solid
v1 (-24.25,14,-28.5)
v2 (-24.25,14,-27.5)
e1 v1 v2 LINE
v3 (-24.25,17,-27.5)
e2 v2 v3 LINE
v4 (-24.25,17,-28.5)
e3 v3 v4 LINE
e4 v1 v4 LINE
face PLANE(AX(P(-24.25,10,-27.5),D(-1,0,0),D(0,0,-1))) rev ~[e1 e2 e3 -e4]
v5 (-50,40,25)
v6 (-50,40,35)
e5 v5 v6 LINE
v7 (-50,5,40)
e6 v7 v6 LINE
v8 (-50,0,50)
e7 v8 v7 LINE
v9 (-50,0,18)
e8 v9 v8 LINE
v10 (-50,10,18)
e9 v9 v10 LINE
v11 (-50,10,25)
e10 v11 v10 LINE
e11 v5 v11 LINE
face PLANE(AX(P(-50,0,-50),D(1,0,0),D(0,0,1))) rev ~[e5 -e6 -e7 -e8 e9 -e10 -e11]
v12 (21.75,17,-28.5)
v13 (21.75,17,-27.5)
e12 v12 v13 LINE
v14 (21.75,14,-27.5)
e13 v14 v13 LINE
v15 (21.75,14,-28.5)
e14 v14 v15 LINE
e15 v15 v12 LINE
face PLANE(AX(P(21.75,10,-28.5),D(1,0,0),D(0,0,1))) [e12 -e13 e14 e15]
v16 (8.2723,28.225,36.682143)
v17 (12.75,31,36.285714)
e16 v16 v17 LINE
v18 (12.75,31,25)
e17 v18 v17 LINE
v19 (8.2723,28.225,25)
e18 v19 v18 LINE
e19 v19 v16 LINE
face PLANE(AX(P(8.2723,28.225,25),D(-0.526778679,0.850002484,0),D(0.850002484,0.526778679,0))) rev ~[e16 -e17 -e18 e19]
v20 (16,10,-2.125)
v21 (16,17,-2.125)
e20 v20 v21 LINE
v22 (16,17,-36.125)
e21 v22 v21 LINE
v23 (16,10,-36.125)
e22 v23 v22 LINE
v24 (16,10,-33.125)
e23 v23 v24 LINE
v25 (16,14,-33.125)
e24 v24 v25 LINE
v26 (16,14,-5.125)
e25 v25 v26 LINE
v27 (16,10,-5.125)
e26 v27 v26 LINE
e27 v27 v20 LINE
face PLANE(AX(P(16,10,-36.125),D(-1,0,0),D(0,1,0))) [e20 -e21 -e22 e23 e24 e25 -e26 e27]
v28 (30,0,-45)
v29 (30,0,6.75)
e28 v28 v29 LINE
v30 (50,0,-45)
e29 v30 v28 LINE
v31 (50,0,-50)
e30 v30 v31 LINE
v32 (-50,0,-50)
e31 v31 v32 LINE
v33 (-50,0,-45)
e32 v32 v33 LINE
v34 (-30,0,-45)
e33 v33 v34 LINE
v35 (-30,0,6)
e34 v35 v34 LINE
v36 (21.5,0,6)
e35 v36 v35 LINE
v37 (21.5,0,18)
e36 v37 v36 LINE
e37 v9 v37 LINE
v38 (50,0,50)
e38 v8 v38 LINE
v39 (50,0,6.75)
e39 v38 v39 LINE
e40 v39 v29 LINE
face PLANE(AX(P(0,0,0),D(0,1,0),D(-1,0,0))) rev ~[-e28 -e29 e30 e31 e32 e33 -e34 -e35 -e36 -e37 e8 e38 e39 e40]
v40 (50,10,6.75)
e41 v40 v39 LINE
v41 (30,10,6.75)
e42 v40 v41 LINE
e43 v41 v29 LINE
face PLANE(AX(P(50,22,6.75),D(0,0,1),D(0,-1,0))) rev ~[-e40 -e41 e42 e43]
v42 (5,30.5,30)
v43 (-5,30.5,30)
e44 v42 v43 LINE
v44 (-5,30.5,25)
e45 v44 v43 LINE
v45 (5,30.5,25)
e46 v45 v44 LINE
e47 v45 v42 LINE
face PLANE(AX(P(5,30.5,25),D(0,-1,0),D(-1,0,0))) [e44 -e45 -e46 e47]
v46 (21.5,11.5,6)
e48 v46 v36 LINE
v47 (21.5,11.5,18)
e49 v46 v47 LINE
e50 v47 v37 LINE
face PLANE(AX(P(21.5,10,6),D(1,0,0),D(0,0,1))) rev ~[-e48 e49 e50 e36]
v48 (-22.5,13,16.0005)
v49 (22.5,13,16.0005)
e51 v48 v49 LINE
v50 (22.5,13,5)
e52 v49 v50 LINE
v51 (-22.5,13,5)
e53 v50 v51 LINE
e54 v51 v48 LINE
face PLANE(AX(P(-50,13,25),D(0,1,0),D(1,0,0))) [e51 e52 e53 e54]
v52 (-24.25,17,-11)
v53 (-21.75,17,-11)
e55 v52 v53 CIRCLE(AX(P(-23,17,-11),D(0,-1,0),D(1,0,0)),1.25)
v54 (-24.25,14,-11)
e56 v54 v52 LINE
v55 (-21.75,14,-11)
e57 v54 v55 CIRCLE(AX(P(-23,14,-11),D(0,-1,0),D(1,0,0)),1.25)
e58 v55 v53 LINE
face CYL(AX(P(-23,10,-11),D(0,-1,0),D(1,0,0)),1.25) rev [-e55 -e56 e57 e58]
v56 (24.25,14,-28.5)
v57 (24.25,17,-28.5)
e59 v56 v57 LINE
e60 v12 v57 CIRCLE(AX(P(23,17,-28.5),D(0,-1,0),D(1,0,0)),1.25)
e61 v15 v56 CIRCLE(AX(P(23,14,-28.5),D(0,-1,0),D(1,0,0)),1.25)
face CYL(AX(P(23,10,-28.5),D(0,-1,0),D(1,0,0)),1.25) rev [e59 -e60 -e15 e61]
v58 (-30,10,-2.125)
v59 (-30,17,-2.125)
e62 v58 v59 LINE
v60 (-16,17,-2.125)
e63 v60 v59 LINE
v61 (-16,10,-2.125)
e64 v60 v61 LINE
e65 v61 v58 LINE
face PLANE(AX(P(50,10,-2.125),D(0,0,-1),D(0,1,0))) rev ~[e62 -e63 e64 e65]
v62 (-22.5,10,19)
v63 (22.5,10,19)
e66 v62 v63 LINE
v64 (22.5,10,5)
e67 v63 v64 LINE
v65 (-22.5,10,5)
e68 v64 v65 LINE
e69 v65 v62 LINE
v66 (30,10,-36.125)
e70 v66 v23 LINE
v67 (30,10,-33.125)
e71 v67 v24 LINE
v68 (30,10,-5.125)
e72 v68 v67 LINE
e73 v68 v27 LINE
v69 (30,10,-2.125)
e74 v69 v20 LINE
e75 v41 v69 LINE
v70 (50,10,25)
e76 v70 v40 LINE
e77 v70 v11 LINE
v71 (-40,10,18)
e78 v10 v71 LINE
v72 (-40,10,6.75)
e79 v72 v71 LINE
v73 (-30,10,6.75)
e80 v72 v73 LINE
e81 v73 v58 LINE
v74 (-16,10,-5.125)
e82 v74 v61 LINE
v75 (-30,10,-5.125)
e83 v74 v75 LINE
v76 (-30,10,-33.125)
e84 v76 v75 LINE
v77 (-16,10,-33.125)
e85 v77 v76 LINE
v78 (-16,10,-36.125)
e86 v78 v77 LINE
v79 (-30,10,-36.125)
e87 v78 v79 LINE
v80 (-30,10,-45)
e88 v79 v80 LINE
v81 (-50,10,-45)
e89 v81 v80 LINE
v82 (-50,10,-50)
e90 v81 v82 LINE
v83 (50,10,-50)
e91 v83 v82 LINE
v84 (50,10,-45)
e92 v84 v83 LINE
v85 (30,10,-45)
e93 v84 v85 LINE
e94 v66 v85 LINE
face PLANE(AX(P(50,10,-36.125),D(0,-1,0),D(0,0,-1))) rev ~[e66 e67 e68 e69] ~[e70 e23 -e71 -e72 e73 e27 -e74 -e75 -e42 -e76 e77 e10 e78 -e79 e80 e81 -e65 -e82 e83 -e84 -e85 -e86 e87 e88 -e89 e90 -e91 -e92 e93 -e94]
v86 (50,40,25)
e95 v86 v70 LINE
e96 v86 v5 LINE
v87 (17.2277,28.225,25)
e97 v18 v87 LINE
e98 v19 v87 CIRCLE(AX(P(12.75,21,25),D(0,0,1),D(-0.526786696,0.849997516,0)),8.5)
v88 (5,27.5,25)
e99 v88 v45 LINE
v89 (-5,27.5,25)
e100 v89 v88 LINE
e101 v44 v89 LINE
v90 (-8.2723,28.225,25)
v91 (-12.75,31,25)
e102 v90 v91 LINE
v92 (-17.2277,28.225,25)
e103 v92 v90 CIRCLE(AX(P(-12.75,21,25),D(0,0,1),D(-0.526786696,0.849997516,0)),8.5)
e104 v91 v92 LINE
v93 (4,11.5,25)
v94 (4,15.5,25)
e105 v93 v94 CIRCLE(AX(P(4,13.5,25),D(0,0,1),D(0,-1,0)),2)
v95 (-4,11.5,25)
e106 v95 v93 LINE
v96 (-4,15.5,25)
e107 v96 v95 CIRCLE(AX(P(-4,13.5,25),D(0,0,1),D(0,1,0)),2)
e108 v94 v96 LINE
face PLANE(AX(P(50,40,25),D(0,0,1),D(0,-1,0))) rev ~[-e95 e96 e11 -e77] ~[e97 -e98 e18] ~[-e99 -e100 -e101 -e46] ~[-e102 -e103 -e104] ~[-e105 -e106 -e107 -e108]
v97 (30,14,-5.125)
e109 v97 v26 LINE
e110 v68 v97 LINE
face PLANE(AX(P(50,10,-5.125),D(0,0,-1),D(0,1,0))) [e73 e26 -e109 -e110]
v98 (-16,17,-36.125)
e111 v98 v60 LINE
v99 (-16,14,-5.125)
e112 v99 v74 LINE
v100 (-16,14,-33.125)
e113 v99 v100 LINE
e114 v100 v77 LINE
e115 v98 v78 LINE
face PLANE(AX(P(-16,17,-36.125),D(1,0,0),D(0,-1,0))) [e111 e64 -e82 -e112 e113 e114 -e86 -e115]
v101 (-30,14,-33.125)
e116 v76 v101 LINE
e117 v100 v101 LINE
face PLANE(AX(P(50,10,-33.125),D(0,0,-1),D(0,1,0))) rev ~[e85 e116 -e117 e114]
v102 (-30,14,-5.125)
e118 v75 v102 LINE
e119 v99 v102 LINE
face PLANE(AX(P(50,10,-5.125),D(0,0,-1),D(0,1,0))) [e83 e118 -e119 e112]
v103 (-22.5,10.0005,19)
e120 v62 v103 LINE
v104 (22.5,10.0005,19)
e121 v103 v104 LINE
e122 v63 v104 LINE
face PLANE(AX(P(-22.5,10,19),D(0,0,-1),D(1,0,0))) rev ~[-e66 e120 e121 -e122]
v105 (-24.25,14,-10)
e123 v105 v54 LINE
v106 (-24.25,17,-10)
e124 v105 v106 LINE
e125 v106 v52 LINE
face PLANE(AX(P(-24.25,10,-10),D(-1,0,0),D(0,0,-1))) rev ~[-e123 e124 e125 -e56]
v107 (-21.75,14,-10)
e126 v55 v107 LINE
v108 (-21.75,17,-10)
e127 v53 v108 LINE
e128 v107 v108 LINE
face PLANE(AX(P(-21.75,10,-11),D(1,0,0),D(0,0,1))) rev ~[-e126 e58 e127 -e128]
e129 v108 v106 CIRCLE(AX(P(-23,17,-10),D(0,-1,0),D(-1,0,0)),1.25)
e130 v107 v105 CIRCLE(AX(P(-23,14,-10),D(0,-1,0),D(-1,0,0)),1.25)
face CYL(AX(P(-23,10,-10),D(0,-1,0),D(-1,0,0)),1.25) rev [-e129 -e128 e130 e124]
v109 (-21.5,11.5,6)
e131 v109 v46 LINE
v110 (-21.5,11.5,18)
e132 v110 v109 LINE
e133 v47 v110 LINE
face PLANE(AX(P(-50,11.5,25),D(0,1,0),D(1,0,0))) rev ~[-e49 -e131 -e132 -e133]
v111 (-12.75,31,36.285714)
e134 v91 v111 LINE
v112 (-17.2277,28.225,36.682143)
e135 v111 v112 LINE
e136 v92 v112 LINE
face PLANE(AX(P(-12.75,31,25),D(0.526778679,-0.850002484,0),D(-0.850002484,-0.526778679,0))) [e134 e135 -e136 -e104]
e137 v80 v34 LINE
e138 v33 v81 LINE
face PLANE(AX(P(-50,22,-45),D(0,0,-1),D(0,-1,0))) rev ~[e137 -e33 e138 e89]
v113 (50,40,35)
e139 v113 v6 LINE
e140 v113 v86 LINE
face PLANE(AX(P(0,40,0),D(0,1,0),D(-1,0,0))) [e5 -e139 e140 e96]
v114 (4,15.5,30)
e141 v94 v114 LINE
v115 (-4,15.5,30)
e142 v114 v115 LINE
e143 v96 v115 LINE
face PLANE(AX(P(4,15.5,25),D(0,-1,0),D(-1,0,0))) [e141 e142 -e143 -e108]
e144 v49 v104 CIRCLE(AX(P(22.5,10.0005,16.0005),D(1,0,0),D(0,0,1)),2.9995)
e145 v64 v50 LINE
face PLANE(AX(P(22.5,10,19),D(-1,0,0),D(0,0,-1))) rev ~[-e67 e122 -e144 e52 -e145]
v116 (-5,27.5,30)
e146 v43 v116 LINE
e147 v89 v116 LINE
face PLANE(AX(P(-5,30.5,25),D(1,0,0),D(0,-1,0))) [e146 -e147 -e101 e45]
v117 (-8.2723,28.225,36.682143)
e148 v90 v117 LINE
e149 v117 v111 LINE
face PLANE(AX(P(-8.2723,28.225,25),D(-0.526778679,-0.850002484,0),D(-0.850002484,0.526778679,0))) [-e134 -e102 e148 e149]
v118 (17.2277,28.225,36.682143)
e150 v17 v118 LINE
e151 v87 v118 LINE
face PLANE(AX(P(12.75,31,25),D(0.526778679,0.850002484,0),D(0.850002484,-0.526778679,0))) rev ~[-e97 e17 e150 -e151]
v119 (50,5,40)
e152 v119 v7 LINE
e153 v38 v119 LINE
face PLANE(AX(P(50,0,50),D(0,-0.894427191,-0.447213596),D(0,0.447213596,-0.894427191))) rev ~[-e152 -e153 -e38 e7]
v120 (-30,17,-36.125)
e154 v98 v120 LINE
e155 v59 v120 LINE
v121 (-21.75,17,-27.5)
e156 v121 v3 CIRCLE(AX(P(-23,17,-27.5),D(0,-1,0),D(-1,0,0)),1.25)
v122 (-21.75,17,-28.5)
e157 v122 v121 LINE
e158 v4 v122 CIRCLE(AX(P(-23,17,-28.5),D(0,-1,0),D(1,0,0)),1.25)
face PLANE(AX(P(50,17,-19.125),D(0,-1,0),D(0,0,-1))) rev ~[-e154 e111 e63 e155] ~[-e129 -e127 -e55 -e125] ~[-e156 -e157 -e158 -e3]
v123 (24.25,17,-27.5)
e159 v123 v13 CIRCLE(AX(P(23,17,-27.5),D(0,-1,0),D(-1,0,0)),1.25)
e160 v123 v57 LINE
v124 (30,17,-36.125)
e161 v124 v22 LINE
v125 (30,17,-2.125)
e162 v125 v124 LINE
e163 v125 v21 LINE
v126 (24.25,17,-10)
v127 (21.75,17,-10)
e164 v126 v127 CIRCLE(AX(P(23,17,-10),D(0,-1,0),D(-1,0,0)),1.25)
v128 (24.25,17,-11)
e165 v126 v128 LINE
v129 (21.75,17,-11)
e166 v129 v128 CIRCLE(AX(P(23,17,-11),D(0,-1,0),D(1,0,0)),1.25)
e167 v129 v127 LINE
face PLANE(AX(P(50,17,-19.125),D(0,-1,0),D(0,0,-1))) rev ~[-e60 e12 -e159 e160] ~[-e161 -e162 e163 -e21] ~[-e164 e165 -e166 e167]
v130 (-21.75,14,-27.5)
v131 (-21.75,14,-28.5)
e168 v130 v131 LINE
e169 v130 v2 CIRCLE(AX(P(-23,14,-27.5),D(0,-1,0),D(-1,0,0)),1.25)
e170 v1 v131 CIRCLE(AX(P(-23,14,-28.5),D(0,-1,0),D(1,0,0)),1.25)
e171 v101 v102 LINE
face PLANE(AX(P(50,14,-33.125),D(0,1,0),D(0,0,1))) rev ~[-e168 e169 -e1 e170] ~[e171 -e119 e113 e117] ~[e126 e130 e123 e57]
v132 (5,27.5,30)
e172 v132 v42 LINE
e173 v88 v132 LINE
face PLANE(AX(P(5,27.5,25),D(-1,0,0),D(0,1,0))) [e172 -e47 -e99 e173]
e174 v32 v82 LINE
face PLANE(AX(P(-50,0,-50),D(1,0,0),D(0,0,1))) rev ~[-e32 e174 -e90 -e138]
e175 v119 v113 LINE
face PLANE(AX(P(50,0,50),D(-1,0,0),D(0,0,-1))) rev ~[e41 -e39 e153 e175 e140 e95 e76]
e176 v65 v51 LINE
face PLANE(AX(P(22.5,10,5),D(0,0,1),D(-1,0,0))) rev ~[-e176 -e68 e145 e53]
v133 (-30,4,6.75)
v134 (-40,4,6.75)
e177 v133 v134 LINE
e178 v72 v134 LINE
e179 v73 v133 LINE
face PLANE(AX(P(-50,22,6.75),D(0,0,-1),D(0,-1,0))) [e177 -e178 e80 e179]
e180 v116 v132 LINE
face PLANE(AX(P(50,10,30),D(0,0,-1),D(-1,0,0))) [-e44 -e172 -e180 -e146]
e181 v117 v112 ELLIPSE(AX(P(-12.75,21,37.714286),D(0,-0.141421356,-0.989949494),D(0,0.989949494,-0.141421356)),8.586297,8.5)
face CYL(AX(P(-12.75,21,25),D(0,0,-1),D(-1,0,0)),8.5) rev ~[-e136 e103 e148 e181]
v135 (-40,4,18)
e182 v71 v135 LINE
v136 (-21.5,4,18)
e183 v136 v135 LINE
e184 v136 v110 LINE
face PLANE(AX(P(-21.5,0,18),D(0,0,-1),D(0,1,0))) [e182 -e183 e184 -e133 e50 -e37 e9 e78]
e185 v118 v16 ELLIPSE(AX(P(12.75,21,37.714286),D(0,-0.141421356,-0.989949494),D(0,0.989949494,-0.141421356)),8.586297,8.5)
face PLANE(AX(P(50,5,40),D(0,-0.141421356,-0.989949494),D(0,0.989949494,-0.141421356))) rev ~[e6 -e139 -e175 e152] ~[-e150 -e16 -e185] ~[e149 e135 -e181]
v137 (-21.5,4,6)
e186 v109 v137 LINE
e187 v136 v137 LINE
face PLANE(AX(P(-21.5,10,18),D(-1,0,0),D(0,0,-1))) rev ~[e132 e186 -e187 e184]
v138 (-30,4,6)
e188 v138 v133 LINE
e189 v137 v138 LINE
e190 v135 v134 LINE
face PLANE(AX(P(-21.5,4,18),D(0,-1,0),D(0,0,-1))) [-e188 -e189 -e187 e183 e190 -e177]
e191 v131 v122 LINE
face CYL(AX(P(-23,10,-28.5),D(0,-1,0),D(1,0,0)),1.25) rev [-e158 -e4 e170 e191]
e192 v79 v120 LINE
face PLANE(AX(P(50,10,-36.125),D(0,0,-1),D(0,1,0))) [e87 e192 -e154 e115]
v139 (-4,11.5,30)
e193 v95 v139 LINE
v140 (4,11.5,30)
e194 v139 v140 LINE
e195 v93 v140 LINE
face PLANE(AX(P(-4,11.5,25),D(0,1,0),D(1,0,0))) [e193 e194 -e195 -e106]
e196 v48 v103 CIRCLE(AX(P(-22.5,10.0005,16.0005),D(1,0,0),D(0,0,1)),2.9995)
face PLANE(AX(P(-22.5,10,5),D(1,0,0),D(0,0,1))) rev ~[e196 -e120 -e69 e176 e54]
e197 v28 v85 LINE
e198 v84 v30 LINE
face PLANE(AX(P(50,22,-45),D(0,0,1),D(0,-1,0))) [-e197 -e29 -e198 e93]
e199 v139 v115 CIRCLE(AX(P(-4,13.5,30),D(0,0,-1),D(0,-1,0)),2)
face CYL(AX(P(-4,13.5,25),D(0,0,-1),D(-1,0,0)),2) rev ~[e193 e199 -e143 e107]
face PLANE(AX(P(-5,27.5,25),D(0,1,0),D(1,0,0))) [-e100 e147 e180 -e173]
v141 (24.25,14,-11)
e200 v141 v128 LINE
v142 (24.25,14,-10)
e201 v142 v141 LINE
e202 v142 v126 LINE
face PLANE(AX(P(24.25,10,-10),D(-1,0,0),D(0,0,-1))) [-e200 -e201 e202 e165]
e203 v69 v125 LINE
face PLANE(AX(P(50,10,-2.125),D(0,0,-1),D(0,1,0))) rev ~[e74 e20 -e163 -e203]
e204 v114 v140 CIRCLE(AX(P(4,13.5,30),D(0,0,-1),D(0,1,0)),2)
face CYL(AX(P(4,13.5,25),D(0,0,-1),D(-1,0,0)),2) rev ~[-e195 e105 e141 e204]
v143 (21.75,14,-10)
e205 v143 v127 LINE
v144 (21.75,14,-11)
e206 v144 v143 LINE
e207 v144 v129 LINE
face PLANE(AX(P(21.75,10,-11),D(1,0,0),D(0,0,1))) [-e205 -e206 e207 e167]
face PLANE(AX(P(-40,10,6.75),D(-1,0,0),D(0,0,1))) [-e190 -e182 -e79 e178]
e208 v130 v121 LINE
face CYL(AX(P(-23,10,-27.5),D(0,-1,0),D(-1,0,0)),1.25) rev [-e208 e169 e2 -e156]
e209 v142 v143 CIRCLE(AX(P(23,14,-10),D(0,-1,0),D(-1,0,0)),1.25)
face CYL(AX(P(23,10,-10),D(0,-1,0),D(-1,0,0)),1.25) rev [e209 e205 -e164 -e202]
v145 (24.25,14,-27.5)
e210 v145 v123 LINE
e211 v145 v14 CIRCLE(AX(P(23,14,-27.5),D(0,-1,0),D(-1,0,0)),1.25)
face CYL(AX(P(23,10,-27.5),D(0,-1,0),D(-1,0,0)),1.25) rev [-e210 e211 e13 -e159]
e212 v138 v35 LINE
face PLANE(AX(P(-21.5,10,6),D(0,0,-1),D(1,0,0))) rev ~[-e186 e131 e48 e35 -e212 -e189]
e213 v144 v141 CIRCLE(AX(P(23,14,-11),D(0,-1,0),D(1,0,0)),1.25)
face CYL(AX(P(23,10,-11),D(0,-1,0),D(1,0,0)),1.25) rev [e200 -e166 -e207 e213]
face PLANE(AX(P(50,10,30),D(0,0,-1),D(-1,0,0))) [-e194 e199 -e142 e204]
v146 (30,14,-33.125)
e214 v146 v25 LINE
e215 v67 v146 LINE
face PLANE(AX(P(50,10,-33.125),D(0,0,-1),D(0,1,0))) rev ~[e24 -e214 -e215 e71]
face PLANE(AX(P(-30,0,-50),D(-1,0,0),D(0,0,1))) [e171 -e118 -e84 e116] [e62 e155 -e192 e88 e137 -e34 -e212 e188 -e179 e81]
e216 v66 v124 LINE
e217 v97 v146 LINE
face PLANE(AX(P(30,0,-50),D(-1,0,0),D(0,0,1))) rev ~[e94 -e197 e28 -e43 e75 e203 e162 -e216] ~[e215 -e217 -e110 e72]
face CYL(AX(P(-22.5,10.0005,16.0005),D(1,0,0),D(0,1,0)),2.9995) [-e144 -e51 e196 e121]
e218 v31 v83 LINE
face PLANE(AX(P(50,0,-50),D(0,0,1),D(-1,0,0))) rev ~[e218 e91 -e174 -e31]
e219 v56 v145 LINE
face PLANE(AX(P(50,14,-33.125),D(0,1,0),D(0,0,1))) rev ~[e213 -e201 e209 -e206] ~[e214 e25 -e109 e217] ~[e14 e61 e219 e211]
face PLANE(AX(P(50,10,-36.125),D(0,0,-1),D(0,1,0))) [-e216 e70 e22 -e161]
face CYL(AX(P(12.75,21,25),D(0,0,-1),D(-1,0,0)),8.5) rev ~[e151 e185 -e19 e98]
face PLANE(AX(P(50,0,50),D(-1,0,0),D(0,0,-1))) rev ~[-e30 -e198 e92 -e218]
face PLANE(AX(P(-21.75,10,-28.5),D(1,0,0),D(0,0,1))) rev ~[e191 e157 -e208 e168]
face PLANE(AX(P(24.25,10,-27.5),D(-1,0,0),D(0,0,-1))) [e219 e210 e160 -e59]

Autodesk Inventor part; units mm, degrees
ref_plane "YZ Plane" through (0, 0, 0) normal (1, 0, 0) x (0, 1, 0)
ref_plane "XZ Plane" through (0, 0, 0) normal (0, 1, 0) x (-1, 0, 0)
ref_plane "XY Plane" through (0, 0, 0) normal (0, 0, 1) x (1, 0, 0)
sketch "Sketch3" plane through (0, 0, 0) normal (0, 1, 0) x (-1, 0, 0)
  line L0 (50, 50) -> (-50, 50)
  line L1 (-50, 50) -> (-50, -50)
  line L2 (-50, -50) -> (50, -50)
  line L3 (50, -50) -> (50, 50)
  line L4 (50, 50) -> (-50, -50) construction
  line L5 (-50, 50) -> (50, -50) construction
  line L6 (45, -45) -> (-45, 45) construction
  line L7 (-45, -45) -> (45, 45) construction
  point P0 (0, 0)
  dimension "d12" = 100
  dimension "d13" = 100
extrude "Solid Mass" add sketch "Sketch3" along normal blind 40
sketch "Sketch6" plane through (50, 0, 50) normal (1, 0, 0) x (0, 0, -1)
  line L0 (0, 0) -> (100, 0) projected
  line L1 (0, 0) -> (10, 5)
  line L2 (10, 5) -> (15, 40)
  line L3 (0, 40) -> (100, 40) projected
  line L4 (0, 0) -> (0, 40)
  line L5 (100, 40) -> (25, 40)
  line L6 (25, 40) -> (25, 10)
  line L7 (25, 10) -> (100, 10)
  line L8 (100, 10) -> (100, 40)
  circle A0 centre (69.125, 22) radius 22.5
  line L9 (63.125, 17) -> (75.125, 17)
  line L10 (75.125, 17) -> (75.125, 27)
  line L11 (75.125, 27) -> (63.125, 27)
  line L12 (63.125, 27) -> (63.125, 17)
  line L13 (63.125, 17) -> (75.125, 27) construction
  line L14 (75.125, 17) -> (63.125, 27) construction
  line L15 (100, 0) -> (100, 40) projected
  line L16 (52.125, 10) -> (52.125, 17)
  line L17 (55.125, 10) -> (55.125, 14)
  line L18 (55.125, 14) -> (63.125, 14)
  line L19 (63.125, 14) -> (63.125, 10)
  line L20 (69.125, 22) -> (69.125, 0)
  line L21 (52.125, 17) -> (69.125, 17)
  line L22 (86.125, 10) -> (86.125, 17)
  line L23 (83.125, 10) -> (83.125, 14)
  line L24 (83.125, 14) -> (75.125, 14)
  line L25 (75.125, 14) -> (75.125, 10)
  line L26 (86.125, 17) -> (69.125, 17)
  point P0 (50, 0)
  point P1 (25, 40)
  point P2 (82.625, 40)
  point P3 (88.1579, 10)
  point P4 (64.408, 0)
  point P5 (50.0921, 10)
  point P6 (67.25, 14)
  point P7 (55.625, 40)
  point P8 (55.25, 14)
  point P9 (73.842, 0)
  point P10 (75.125, 10)
  point P11 (83.125, 10)
  point P12 (86.125, 10)
  point P13 (75.125, 17)
  dimension "d20" = 10
  dimension "d21" = 5
  dimension "d22" = 15
  dimension "d25" = 10
  dimension "d27" = 45
  dimension "d28" = 12
  dimension "d29" = 10
  dimension "d35" = 15
  dimension "d45" = 22
  dimension "d47" = 30.875
  dimension "d48" = 3
  dimension "d49" = 3
  dimension "d50" = 11
extrude "Cut Ramp" cut sketch "Sketch6" against normal through all contours L4 L3 L2 L1 | A0 L3 L7 L22 L26 L10 L11 L12 L21 L16 | L7 L6 L3 A0 | L20 L9 L26 L22 L7 L23 L24 L25 | L7 L19 L18 L17 L16 L21 L9 L20 | A0 L3 L8 L7 | L7 L17 L18 L19 | L25 L24 L23 L7 | L9 L12 L11 L10
sketch "Sketch7" plane through (50, 10, 25) normal (0, 0, -1) x (-1, 0, 0)
  circle A0 centre (62.75, 11) radius 8.5
  line L0 (100, 0) -> (0, 0) projected
  line L1 (0, 30) -> (100, 30) projected
  line L2 (0, 0) -> (0, 30) projected
  line L3 (0, -10) -> (0, 0) projected
  line L4 (100, -10) -> (100, 0) projected
  line L5 (100, 30) -> (100, 0) projected
  line L6 (0, -10) -> (100, -10) projected
  line L7 (50, 30) -> (50, 0)
  circle A1 centre (37.25, 11) radius 8.5
  line L8 (58.2723, 18.225) -> (62.75, 21)
  line L9 (62.75, 21) -> (67.2277, 18.225)
  line L10 (41.7277, 18.225) -> (37.25, 21)
  line L11 (37.25, 21) -> (32.7723, 18.225)
  point P0 (50, -10)
  point P1 (32.7723, 18.225)
  point P2 (41.7277, 18.225)
  dimension "d30" = 17
  dimension "d31" = 11
  dimension "d32" = 25.5
  dimension "d46" = 10
extrude "Eyes" cut sketch "Sketch7" against normal through all contours A0 | A0 L8 L9 | A1 | A1 L11 L10
extrude "Motor Platform" add sketch "Sketch6" against normal up to surface (100 mm away) contours L20 L9 L26 L22 L7 L23 L24 L25 | L7 L19 L18 L17 L16 L21 L9 L20
sketch "Sketch9" plane through (-50, 0, -50) normal (-1, 0, 0) x (0, 0, 1)
  line L0 (5, 22) -> (5, 0)
  line L1 (56.75, 22) -> (56.75, 0)
  arc A0 (56.75, 22) -> (5, 22) centre (30.875, 22) ccw
  line L2 (5, 0) -> (56.75, 0)
  line L3 (0, 10) -> (13.875, 10) projected
  line L4 (24.875, 17) -> (24.875, 27) projected
  line L5 (24.875, 27) -> (36.875, 27) projected
  line L6 (36.875, 27) -> (36.875, 17) projected
  line L7 (13.875, 17) -> (47.875, 17) projected
  line L8 (13.875, 10) -> (0, 10) projected
  circle A1 centre (30.875, 22) radius 22.5 projected
  line L9 (0, 0) -> (100, 0) projected
  line L10 (0, 0) -> (0, 10) projected
  point P0 (50, 0)
  point P1 (5, 10)
  point P2 (26.158, 0)
  point P3 (11.8421, 10)
  point P4 (35.592, 0)
  dimension "d54" = 5
  dimension "d55" = 51.75
  dimension "d56" = 22
extrude "Cut right wheel" cut sketch "Sketch9" against normal blind 20 contours A0 L1 L2 A1 L3 L0 | L3 A1 L2 L0 | A1 L2 | L4 L5 L6 L7 picked at (31.5427, 32.8036)
extrude "Cut left wheel" cut sketch "Sketch9" along normal blind 20 from surface at -100 contours A0 L1 L2 A1 L3 L0 | L3 A1 L2 L0 | A1 L2 | L4 L5 L6 L7 picked at (31.5427, 32.8036)
sketch "Sketch8" plane through (50, 10, 25) normal (0, 1, 0) x (1, 0, 0)
  line L0 (-27, 35) -> (-27, 36) construction
  line L1 (-25.75, 35) -> (-25.75, 36)
  line L2 (-28.25, 36) -> (-28.25, 35)
  arc A0 (-28.25, 35) -> (-25.75, 35) centre (-27, 35) ccw
  arc A1 (-25.75, 36) -> (-28.25, 36) centre (-27, 36) ccw
  line L3 (-27, 52.5) -> (-27, 53.5) construction
  line L4 (-25.75, 52.5) -> (-25.75, 53.5)
  line L5 (-28.25, 53.5) -> (-28.25, 52.5)
  arc A2 (-28.25, 52.5) -> (-25.75, 52.5) centre (-27, 52.5) ccw
  arc A3 (-25.75, 53.5) -> (-28.25, 53.5) centre (-27, 53.5) ccw
  line L6 (-100, 0) -> (-100, 18.25) projected
  line L7 (0, 0) -> (-100, 0) projected
  line L8 (0, 75) -> (0, 70) projected
  line L9 (-100, 75) -> (0, 75) projected
  line L10 (-100, 75) -> (0, 75) projected
  line L11 (-50, 75) -> (-50, 0)
  line L12 (-73, 35) -> (-73, 36) construction
  line L13 (-74.25, 35) -> (-74.25, 36)
  line L14 (-71.75, 36) -> (-71.75, 35)
  arc A4 (-74.25, 35) -> (-71.75, 35) centre (-73, 35) ccw
  arc A5 (-71.75, 36) -> (-74.25, 36) centre (-73, 36) ccw
  line L15 (-73, 52.5) -> (-73, 53.5) construction
  line L16 (-74.25, 52.5) -> (-74.25, 53.5)
  line L17 (-71.75, 53.5) -> (-71.75, 52.5)
  arc A6 (-74.25, 52.5) -> (-71.75, 52.5) centre (-73, 52.5) ccw
  arc A7 (-71.75, 53.5) -> (-74.25, 53.5) centre (-73, 53.5) ccw
  line L18 (0, 0) -> (-100, 0) projected
  line L19 (-27, 0) -> (-27, 75) construction
  line L20 (-80, 18.25) -> (-100, 18.25) projected
  line L21 (0, 18.25) -> (0, 0) projected
  line L22 (0, 18.25) -> (-20, 18.25) projected
  line L23 (-20, 27.125) -> (-20, 18.25) projected
  line L24 (-20, 27.125) -> (-80, 27.125) projected
  line L25 (-80, 27.125) -> (-80, 18.25) projected
  line L26 (-100, 70) -> (-100, 75) projected
  line L27 (-100, 70) -> (-80, 70) projected
  line L28 (-80, 70) -> (-80, 61.125) projected
  line L29 (-80, 61.125) -> (-20, 61.125) projected
  line L30 (-20, 70) -> (-20, 61.125) projected
  line L31 (-20, 70) -> (0, 70) projected
  point P0 (-50, 25)
  point P1 (-27, 35.5)
  point P2 (-27, 53)
  point P3 (-73, 35.5)
  point P4 (-73, 53)
  point P5 (-50, 61.125)
  point P6 (-50, 27.125)
  dimension "d36" = 17.5
  dimension "d37" = 1.25
  dimension "d38" = 1
  dimension "d40" = 27
  dimension "d41" = 22
extrude "Cut Motor Bolt Holes" cut sketch "Sketch8" along normal blind 20 contours A0 L2 A1 L1 | A2 L5 A3 L4 | L13 A5 L14 A4 | L16 A7 L17 A6
sketch "Sketch10" plane through (-30, 10, -36.125) normal (0, 0, -1) x (-1, 0, 0)
  line L0 (-60, 0) -> (-60, 7) projected
  line L1 (-60, 7) -> (0, 7) projected
  line L2 (0, 0) -> (0, 7) projected
  line L3 (0, 0) -> (-60, 0) projected
  line L4 (-46, 7) -> (-14, 7)
  line L5 (-14, 7) -> (-14, 0)
  line L6 (-14, 0) -> (-46, 0)
  line L7 (-46, 0) -> (-46, 7)
  point P0 (-30, -10)
  point P1 (-46, 0)
  dimension "d61" = 14
  dimension "d62" = 14
extrude "Cut Centre" cut sketch "Sketch10" against normal up to surface (34 mm away) contours L7 L1 L5 L3
sketch "Sketch12" plane through (0, 0, 0) normal (0, -1, 0) x (1, 0, 0)
  line L0 (50, 25) -> (-50, 25) projected
  line L1 (-21.5, 18) -> (21.5, 18)
  line L2 (21.5, 18) -> (21.5, 6)
  line L3 (21.5, 6) -> (-21.5, 6)
  line L4 (-21.5, 6) -> (-21.5, 18)
  point P0 (0, 0)
  point P1 (0, 6)
  dimension "d72" = 43
  dimension "d73" = 12
  dimension "d74" = 7
extrude "Extrusion13" cut sketch "Sketch12" against normal blind 10
sketch "Sketch13" plane through (50, 10, 25) normal (0, 0, -1) x (-1, 0, 0)
  line L0 (27.25, 21) -> (72.75, 21)
  line L1 (72.75, 21) -> (72.75, 1)
  line L2 (72.75, 1) -> (27.25, 1)
  line L3 (27.25, 1) -> (27.25, 21)
  arc A0 (58.2723, 18.225) -> (67.2277, 18.225) centre (62.75, 11) ccw projected
  circle A1 centre (62.75, 11) radius 10 construction
  arc A2 (32.7723, 18.225) -> (41.7277, 18.225) centre (37.25, 11) ccw projected
  circle A3 centre (37.25, 11) radius 10 construction
  line L4 (44, 5.5) -> (56, 5.5)
  line L5 (56, 5.5) -> (56, 1.5)
  line L6 (56, 1.5) -> (44, 1.5)
  line L7 (44, 1.5) -> (44, 5.5)
  circle A4 centre (54, 3.5) radius 2
  circle A5 centre (46, 3.5) radius 2
  line L8 (45, 20.5) -> (55, 20.5)
  line L9 (55, 20.5) -> (55, 17.5)
  line L10 (55, 17.5) -> (45, 17.5)
  line L11 (45, 17.5) -> (45, 20.5)
  point P0 (50, -10)
  point P1 (50, 5.5)
  point P2 (50, 1)
  point P3 (50, 20.5)
  point P4 (50, 21)
  point P5 (46, 1.5)
  point P6 (54, 1.5)
  point P7 (54, 5.5)
  point P8 (46, 5.5)
  dimension "d75" = 20
  dimension "d76" = 20
  dimension "d77" = 20
  dimension "d78" = 12
  dimension "d79" = 4
  dimension "d80" = 0.5
  dimension "d81" = 10
  dimension "d82" = 3
  dimension "d83" = 0.5
extrude "Extrusion14" cut sketch "Sketch13" against normal blind 5 contours L4 A4 L6 A5 | A5 | A4 | L8 L9 L10 L11
sketch "Sketch16" plane through (-21.5, 0, 18) normal (1, 0, 0) x (0, 0, -1)
  line L0 (12, 0) -> (12, 10) projected
  line L1 (0, 0) -> (0, 10) projected
  line L2 (12, 0) -> (0, 0)
  line L3 (0, 0) -> (0, 4)
  line L4 (0, 4) -> (12, 4)
  line L5 (12, 4) -> (12, 0)
  point P0 (18, 0)
  dimension "d89" = 4
extrude "Extrusion16" cut sketch "Sketch16" against normal blind 34
sketch "Sketch17" plane through (-50, 10, 25) normal (0, 1, 0) x (1, 0, 0)
  line L0 (20, 18.25) -> (0, 18.25) projected
  line L1 (0, 7) -> (71.5, 7) projected
  line L2 (0, 18.25) -> (10, 18.25)
  line L3 (10, 18.25) -> (10, 7)
  line L4 (10, 7) -> (0, 7)
  line L5 (0, 7) -> (0, 18.25)
  point P0 (50, 25)
  dimension "d92" = 10
extrude "Extrusion17" cut sketch "Sketch17" against normal blind 34
sketch "Sketch18" plane through (-50, 10, 25) normal (0, 1, 0) x (1, 0, 0)
  line L0 (71.5, 7) -> (28.5, 7) projected
  line L1 (71.5, 19) -> (71.5, 7) projected
  line L2 (28.5, 19) -> (71.5, 19) projected
  line L3 (28.5, 7) -> (28.5, 19) projected
  line L4 (27.5, 6) -> (72.5, 6)
  line L5 (72.5, 6) -> (72.5, 20)
  line L6 (72.5, 20) -> (27.5, 20)
  line L7 (27.5, 20) -> (27.5, 6)
  point P0 (50, 25)
  dimension "d95" = 1
extrude "Extrusion18" add sketch "Sketch18" along normal blind 3
sketch "Sketch19" plane through (-50, 13, 25) normal (0, 1, 0) x (1, 0, 0)
  line L0 (28.5, 7) -> (28.5, 19) projected
  line L1 (71.5, 7) -> (28.5, 7)
  line L2 (28.5, 7) -> (28.5, 19)
  line L3 (28.5, 19) -> (71.5, 19)
  line L4 (71.5, 19) -> (71.5, 7)
  point P0 (50, 25)
  point P1 (28.5, 7)
extrude "Extrusion19" add sketch "Sketch19" against normal blind 1.5
sketch "Sketch20" plane through (-30, 0, -50) normal (-1, 0, 0) x (0, 0, 1)
  line L0 (24.875, 14) -> (16.875, 14) projected
  line L1 (36.875, 10) -> (44.875, 10) projected
  line L2 (24.875, 14) -> (36.875, 14)
  line L3 (36.875, 14) -> (36.875, 10)
  line L4 (36.875, 10) -> (24.875, 10)
  line L5 (24.875, 10) -> (24.875, 14)
  point P0 (50, 0)
extrude "Extrusion20" cut sketch "Sketch20" against normal blind 100
fillet "Fillet1" radius 3 1 edges at (0, 13, 19)
sketch "Sketch21" plane through (-50, 10, -50) normal (0, 1, 0) x (1, 0, 0)
  line L0 (59.9918, -13.8859) -> (42.201, -13.8859)
  line L1 (42.201, -13.8859) -> (42.201, -46.4739)
  line L2 (42.201, -46.4739) -> (59.9918, -46.4739)
  line L3 (59.9918, -46.4739) -> (59.9918, -13.8859)
  point P0 (50, -50)
properties part number "shell_01"
